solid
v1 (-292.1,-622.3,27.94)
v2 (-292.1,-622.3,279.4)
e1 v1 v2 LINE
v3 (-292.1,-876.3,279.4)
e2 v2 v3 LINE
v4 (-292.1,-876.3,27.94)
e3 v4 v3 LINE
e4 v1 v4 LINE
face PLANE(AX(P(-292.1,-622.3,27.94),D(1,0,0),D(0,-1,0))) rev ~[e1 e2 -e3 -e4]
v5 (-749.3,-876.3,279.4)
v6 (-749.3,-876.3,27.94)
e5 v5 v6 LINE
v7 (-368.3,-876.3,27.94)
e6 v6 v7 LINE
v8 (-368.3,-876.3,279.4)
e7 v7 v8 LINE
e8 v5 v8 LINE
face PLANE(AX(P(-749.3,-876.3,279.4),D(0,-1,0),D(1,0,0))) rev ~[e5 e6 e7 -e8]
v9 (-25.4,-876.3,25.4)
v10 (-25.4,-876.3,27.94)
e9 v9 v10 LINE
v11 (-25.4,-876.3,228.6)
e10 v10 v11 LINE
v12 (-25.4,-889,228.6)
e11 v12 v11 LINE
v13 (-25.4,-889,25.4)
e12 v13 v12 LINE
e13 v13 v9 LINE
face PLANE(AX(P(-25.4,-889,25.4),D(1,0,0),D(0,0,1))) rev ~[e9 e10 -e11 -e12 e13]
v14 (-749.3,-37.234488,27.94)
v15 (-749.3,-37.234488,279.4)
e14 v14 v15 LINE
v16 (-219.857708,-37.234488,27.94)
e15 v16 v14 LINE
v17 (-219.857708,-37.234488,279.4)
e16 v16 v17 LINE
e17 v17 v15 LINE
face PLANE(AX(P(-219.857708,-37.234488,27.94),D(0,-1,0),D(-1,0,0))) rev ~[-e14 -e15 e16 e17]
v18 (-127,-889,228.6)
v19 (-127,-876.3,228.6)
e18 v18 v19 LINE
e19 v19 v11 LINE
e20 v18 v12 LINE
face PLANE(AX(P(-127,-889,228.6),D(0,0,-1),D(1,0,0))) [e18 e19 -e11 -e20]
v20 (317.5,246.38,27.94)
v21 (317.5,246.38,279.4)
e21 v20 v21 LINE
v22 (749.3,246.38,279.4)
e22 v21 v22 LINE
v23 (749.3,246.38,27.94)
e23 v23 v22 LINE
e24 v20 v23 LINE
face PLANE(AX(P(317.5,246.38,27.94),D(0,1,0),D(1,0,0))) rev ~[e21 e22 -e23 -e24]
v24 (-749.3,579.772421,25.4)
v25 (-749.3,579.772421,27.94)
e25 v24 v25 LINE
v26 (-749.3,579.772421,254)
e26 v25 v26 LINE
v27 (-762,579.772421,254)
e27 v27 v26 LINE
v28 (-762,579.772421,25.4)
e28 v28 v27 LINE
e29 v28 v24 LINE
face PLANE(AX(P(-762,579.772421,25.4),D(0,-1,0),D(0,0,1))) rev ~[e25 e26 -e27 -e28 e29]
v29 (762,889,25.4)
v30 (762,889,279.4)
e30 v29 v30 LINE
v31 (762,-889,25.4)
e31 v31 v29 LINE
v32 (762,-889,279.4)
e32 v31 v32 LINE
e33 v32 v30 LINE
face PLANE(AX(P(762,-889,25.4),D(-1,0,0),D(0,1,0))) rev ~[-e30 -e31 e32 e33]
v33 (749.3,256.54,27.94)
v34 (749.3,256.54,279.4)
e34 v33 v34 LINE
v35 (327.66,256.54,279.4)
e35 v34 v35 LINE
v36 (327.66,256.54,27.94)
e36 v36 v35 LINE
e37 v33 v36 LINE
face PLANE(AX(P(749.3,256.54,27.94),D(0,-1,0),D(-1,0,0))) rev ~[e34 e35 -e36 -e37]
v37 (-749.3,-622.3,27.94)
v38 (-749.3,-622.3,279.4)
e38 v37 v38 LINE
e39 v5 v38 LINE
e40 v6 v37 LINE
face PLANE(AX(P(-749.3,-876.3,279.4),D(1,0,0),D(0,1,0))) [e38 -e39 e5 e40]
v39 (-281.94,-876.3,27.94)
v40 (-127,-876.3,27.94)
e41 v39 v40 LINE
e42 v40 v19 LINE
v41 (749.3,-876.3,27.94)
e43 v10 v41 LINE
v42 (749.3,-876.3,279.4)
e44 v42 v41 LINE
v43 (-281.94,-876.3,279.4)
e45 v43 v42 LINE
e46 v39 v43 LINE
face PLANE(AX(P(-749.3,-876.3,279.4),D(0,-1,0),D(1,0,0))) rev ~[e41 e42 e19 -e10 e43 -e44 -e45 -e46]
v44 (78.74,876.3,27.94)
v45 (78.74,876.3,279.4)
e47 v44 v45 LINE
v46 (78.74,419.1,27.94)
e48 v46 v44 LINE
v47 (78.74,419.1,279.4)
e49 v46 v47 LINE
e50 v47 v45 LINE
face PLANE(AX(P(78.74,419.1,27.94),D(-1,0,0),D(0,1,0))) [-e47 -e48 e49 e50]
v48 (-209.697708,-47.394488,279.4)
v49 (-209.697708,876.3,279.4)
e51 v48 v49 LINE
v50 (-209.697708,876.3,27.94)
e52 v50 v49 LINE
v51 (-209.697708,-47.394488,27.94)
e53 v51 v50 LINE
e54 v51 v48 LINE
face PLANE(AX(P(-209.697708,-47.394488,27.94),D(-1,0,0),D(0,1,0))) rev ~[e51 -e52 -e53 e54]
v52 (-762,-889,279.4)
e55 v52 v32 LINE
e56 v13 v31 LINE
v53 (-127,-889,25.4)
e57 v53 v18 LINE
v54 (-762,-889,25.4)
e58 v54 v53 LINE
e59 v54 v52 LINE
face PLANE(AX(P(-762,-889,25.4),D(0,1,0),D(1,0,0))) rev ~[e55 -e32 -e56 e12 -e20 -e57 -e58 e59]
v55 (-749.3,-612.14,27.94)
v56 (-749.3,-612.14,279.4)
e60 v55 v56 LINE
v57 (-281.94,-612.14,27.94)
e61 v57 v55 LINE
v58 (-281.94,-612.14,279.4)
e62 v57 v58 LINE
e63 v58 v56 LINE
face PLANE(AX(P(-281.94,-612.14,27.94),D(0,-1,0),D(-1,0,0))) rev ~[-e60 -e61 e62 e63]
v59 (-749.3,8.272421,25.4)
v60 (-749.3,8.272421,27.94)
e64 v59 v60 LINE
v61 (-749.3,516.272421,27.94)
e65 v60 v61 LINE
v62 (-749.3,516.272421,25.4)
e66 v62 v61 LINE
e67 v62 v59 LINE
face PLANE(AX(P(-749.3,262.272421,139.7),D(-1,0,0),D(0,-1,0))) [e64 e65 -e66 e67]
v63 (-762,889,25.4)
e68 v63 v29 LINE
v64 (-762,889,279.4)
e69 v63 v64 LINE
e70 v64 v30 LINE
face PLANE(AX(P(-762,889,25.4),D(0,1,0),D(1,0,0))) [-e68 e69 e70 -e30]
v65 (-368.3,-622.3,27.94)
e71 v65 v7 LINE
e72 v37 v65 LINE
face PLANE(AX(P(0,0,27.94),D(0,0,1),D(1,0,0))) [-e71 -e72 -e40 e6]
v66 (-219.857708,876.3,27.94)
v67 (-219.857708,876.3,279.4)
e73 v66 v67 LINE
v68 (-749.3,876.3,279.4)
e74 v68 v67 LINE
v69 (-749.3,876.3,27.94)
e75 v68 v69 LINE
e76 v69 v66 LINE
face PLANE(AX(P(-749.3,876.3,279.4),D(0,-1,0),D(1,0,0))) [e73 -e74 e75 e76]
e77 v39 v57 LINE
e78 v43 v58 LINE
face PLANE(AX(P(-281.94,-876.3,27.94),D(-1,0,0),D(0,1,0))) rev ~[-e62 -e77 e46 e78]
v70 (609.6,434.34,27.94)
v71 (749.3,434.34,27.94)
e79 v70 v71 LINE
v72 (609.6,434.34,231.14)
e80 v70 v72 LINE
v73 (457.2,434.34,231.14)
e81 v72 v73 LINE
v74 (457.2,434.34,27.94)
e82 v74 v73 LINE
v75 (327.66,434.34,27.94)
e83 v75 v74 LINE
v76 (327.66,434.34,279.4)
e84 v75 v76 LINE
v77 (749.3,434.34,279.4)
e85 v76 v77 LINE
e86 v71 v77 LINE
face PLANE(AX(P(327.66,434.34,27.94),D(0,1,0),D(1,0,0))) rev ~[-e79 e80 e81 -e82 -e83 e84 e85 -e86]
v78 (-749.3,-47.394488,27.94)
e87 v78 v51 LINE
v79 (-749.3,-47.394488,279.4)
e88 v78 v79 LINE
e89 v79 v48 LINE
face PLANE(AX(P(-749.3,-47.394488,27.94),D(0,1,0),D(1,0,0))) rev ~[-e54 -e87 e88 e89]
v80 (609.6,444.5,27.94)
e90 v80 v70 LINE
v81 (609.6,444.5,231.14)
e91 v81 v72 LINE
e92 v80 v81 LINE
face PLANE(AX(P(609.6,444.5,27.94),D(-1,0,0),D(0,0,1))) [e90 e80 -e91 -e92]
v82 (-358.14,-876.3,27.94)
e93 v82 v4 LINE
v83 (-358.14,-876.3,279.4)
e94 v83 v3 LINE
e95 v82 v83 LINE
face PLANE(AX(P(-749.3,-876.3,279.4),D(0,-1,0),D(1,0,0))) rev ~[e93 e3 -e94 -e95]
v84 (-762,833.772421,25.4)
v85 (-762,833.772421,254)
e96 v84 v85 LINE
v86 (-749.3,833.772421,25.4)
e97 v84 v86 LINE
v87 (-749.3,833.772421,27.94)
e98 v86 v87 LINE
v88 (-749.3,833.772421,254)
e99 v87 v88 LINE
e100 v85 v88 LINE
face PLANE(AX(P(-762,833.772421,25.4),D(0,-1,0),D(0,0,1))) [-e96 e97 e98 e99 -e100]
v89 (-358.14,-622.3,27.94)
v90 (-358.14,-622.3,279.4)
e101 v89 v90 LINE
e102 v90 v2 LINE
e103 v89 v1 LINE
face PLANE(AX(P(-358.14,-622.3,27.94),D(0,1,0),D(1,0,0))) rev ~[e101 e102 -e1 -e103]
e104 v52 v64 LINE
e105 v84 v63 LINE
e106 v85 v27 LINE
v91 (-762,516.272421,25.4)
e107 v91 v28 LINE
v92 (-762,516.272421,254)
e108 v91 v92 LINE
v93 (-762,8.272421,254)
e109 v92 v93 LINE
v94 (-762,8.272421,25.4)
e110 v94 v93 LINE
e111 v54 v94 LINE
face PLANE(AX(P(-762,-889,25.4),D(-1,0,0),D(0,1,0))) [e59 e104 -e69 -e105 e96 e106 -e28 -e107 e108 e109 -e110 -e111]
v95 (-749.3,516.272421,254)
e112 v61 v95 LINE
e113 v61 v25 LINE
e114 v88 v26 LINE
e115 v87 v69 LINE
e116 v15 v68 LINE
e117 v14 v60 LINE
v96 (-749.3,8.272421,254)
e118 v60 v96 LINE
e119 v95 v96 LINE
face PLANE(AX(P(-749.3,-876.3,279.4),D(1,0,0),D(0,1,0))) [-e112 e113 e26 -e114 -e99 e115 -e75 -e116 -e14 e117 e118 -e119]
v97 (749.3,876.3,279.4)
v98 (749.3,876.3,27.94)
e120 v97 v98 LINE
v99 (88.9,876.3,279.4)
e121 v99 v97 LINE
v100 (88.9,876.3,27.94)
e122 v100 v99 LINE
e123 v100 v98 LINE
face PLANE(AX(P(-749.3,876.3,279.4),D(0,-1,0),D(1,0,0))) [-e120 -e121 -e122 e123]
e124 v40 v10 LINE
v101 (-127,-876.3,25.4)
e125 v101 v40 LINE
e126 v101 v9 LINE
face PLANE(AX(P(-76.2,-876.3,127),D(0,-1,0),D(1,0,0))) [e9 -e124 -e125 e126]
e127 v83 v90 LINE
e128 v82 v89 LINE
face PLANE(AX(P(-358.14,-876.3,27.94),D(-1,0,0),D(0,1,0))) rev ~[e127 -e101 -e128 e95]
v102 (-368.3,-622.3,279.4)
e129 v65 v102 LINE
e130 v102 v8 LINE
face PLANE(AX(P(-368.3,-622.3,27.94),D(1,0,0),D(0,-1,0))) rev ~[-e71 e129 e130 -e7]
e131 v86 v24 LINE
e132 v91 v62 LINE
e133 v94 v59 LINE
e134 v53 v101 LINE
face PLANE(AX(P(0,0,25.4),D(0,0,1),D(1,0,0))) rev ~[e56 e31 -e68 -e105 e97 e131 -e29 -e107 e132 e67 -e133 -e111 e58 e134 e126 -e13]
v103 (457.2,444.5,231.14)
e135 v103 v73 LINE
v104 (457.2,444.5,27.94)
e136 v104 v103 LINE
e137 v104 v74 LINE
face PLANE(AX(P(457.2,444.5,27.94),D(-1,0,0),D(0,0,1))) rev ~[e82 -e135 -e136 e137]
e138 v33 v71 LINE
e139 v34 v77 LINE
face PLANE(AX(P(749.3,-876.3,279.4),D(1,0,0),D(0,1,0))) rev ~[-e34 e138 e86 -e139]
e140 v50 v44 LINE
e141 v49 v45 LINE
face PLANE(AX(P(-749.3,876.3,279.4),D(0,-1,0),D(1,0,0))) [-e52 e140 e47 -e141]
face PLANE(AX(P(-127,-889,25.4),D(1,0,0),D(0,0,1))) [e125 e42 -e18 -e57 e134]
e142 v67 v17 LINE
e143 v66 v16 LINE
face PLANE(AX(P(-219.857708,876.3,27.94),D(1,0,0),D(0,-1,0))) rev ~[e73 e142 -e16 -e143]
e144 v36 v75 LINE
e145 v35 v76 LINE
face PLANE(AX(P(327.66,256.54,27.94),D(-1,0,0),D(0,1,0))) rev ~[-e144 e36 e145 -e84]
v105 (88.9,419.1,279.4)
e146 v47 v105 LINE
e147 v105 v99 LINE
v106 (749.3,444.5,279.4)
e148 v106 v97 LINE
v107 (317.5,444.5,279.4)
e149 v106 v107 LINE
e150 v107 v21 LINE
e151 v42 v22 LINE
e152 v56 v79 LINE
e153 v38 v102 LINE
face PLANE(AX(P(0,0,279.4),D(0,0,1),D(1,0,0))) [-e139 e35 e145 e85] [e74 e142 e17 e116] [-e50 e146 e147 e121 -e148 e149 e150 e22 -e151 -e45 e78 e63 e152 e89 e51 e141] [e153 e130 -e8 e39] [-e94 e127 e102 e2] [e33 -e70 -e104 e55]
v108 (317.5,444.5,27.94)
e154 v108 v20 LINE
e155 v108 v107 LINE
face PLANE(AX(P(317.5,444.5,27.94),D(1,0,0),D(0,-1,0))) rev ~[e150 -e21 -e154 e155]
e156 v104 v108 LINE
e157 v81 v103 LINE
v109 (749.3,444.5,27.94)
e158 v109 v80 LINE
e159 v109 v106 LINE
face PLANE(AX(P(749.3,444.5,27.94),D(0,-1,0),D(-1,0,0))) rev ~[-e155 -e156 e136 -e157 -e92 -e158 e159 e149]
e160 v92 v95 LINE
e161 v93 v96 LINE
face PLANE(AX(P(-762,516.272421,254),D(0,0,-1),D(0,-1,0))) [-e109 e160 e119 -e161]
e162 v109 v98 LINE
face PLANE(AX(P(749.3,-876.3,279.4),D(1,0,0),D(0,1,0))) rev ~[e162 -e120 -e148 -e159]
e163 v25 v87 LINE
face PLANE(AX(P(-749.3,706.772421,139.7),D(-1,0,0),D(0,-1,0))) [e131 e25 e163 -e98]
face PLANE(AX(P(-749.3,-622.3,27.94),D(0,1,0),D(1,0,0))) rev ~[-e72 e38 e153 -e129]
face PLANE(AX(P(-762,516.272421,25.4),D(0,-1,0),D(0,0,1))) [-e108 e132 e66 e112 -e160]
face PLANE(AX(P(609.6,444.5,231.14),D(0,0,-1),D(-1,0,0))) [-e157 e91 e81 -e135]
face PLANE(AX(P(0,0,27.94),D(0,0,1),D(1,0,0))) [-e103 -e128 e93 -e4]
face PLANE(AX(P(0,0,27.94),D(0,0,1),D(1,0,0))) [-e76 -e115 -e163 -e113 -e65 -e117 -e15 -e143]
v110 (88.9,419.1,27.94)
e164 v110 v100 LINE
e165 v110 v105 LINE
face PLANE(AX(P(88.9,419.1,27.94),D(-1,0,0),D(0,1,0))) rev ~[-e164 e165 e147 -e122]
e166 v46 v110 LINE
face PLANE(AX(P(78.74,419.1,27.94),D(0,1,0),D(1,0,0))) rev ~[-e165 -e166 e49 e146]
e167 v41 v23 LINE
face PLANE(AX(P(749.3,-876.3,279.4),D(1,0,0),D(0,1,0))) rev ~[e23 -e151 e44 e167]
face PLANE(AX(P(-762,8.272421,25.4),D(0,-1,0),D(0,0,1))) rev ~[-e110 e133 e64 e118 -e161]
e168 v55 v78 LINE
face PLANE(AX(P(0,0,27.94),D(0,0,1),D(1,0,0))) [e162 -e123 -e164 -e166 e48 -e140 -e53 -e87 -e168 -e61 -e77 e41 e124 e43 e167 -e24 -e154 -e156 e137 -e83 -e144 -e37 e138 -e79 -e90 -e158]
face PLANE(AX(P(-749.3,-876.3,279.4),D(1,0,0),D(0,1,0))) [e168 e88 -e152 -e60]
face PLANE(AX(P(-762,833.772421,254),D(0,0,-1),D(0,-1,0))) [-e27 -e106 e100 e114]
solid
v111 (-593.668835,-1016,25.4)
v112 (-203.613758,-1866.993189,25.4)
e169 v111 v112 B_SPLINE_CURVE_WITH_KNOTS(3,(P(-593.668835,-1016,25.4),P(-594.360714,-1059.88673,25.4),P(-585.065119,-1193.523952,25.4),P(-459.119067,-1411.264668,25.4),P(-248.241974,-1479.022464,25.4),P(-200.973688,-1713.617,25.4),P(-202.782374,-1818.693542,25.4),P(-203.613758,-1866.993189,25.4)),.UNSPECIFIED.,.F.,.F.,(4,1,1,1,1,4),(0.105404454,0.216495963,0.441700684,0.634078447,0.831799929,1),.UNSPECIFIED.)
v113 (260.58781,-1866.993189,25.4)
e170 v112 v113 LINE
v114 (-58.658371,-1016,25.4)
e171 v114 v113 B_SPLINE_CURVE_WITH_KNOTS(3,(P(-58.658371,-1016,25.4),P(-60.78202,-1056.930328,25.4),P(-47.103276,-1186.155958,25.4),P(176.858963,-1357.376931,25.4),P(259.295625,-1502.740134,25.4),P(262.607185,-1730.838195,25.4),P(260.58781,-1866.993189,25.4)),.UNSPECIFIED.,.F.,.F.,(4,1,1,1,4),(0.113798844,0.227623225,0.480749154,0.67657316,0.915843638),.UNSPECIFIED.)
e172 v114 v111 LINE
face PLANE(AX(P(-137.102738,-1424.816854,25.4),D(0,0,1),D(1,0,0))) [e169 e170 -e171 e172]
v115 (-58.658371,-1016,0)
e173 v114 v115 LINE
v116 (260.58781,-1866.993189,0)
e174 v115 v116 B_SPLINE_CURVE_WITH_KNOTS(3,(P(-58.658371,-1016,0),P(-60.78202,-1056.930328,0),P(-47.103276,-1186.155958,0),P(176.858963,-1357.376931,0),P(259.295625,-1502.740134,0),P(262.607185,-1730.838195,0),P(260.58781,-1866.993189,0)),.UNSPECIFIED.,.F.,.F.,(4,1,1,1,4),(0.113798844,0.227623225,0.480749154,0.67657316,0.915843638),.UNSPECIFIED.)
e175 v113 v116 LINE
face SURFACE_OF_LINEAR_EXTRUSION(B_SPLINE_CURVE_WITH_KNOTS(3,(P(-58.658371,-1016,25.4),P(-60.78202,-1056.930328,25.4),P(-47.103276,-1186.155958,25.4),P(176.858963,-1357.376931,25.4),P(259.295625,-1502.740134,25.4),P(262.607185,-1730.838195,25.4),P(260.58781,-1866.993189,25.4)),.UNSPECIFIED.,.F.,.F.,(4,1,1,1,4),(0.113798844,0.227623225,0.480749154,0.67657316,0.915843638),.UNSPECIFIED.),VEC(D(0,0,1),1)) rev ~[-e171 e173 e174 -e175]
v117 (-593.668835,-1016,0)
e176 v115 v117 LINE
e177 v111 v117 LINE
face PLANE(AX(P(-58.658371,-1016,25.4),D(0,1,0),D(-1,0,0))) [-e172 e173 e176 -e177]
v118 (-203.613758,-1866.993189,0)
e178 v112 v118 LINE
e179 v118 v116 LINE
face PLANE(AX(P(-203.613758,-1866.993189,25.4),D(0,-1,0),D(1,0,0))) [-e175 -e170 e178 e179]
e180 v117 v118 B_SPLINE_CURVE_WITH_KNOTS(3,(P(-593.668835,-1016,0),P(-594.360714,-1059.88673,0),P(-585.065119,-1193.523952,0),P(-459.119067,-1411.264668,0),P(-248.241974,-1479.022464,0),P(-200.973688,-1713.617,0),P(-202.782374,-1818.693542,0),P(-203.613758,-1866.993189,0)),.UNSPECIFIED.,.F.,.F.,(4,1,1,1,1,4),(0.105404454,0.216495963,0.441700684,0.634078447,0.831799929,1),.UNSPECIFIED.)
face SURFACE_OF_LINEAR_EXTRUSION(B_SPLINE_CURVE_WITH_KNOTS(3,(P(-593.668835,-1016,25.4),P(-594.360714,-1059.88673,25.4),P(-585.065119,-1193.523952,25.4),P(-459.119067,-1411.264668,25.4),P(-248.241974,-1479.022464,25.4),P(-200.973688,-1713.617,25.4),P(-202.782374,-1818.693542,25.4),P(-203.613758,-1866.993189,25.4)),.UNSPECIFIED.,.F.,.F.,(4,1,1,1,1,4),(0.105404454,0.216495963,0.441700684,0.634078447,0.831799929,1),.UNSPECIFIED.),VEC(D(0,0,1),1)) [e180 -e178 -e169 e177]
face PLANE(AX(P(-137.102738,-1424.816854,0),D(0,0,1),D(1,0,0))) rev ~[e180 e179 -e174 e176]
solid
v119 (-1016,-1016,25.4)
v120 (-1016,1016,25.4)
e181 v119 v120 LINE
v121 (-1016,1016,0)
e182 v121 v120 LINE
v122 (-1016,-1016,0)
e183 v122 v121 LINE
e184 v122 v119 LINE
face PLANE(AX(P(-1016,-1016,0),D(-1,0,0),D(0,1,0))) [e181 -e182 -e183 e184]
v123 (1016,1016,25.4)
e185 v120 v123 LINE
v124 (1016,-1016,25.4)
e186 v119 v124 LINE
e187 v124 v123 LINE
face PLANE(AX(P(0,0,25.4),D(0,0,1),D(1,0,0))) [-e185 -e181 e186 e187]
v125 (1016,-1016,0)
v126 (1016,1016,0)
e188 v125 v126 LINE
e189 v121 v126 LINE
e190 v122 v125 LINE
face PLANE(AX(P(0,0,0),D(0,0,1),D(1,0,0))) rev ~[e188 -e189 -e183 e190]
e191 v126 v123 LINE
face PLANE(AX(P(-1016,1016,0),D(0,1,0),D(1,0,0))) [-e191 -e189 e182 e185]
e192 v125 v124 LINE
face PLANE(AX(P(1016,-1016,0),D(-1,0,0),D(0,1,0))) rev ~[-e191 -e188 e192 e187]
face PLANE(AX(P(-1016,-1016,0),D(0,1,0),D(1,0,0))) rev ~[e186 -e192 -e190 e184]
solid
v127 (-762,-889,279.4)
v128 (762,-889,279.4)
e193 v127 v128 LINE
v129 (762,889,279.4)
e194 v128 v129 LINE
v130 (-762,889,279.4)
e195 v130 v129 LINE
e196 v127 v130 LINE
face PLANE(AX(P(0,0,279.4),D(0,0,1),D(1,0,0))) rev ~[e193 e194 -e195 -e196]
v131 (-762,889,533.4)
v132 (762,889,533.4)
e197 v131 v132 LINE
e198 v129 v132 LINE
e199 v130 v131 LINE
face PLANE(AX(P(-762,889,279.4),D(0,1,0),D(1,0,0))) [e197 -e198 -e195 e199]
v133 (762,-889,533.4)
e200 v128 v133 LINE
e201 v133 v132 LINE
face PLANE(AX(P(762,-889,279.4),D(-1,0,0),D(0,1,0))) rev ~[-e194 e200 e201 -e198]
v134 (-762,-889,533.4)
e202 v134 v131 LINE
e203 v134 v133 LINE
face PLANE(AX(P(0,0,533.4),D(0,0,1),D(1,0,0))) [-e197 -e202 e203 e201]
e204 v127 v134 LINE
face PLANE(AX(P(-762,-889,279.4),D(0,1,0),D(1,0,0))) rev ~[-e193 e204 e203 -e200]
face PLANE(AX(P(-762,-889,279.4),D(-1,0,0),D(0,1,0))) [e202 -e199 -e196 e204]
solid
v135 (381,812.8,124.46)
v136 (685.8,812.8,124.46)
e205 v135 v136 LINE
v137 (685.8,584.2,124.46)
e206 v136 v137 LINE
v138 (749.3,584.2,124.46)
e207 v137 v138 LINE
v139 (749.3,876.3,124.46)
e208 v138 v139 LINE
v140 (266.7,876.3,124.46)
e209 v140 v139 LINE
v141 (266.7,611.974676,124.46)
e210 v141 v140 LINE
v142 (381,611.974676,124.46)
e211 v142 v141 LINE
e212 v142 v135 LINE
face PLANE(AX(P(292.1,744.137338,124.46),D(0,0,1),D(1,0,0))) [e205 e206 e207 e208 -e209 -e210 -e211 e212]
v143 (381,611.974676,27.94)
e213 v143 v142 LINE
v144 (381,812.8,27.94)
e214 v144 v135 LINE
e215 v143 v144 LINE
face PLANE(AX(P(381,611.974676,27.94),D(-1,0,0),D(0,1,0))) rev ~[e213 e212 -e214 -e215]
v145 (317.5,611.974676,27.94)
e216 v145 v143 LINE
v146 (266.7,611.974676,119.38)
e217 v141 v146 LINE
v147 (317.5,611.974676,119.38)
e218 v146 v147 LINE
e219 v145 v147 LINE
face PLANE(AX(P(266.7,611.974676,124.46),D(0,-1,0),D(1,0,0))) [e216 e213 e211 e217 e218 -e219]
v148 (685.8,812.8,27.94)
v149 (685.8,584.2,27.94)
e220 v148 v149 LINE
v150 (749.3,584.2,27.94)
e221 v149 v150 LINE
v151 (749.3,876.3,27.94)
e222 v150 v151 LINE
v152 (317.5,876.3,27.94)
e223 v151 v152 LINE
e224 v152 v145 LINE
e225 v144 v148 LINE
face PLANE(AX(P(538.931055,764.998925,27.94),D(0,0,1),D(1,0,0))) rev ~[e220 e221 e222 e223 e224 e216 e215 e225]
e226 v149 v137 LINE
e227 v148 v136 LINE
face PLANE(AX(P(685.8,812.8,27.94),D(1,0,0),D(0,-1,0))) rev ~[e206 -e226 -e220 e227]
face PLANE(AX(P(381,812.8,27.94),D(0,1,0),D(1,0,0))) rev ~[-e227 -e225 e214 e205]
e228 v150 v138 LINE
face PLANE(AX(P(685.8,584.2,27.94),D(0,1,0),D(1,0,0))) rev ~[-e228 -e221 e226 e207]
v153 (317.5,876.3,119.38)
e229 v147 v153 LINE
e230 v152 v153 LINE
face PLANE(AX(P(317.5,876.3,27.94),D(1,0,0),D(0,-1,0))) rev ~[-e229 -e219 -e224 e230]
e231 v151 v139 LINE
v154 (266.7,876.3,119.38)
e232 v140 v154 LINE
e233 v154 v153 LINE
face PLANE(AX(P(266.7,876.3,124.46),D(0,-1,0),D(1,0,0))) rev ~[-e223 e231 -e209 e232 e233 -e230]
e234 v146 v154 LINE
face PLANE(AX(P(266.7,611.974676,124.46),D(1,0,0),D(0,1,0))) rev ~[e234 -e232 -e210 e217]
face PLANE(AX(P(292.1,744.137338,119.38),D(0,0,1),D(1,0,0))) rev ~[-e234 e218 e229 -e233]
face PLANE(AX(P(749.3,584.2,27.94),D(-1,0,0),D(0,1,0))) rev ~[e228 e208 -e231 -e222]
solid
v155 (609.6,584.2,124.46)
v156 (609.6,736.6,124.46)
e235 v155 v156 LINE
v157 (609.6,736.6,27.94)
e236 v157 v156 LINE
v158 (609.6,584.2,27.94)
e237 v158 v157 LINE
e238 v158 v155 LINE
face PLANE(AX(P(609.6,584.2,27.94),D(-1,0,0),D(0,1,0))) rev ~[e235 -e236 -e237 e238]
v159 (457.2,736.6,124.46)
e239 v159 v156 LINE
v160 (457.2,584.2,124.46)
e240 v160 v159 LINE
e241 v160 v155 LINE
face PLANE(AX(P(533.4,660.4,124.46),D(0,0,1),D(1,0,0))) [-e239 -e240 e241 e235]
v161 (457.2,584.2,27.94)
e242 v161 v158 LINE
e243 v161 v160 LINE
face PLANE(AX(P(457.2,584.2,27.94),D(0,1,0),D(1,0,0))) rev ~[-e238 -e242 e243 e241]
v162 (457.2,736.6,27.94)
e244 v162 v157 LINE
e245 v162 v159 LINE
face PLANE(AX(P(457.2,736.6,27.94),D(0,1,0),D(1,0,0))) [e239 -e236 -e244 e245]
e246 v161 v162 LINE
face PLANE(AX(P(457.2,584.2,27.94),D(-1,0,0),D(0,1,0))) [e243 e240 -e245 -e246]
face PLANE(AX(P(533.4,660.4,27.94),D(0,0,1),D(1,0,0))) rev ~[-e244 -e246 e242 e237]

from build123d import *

# Parameters (mm, degrees)
F0_W      = 2032
F0_H      = 2032
F1_DEPTH  = 25.4
F2_W      = 1524
F2_H      = 1778
F3_DEPTH  = 254
F4_W      = 1524
F4_H      = 1778
F5_DEPTH  = 254
F6_W      = 1498.6
F6_H      = 1752.6
F7_DEPTH  = 251.46
F9_DEPTH  = 25.4
F10_W     = 254
F10_H     = 228.6
F10_W_2   = 508
F11_DEPTH = 12.7
F12_W     = 10.16
F12_H     = 457.2
F13_DEPTH = 251.46
F14_W     = 101.6
F14_H     = 203.2
F15_DEPTH = 12.7
F16_W     = 152.4
F16_H     = 152.4
F17_DEPTH = 96.52
F18_W     = 50.8
F18_H     = 264.3253242493
F19_DEPTH = 5.08
F20_W     = 152.4
F20_H     = 203.2
F21_DEPTH = 25.4


with BuildPart() as f1:
    # F0 (on Top) → F1 (new body)
    with BuildSketch(Plane.XY):
        Rectangle(F0_W, F0_H)
    extrude(amount=F1_DEPTH)


with BuildPart() as f3:
    # F2 (on face) → F3 (new body)
    with BuildSketch(Plane.XY.offset(25.4)):
        Rectangle(F2_W, F2_H)
    extrude(amount=F3_DEPTH)

    # F6 (on face) → F7 (cut)
    with BuildSketch(Plane.XY.offset(279.4)):
        Rectangle(F6_W, F6_H)
    extrude(amount=-F7_DEPTH, mode=Mode.SUBTRACT)

    # F10 (on face) → F11 (cut, through all)
    with BuildSketch(Plane(origin=(-762, 0, 0), x_dir=(0, -1, 0), z_dir=(-1, 0, 0))):
        with Locations((-706.7724208832, 139.7)):
            Rectangle(F10_W, F10_H)
        with Locations((-262.2724208832, 139.7)):
            Rectangle(F10_W_2, F10_H)
    extrude(amount=-F11_DEPTH, mode=Mode.SUBTRACT)

    # F12 (on face) → F13 (join, through all)
    with BuildSketch(Plane.XY.offset(27.94)):
        Polygon((-749.3, -37.2344880068), (-749.3, -47.3944880068), (-219.8577076197, -47.3944880068), (-209.6977076197, -47.3944880068), (-209.6977076197, -37.2344880068), (-209.6977076197, 876.3), (-219.8577076197, 876.3), (-219.8577076197, -37.2344880068), align=None)
        Polygon((-368.3, -612.14), (-749.3, -612.14), (-749.3, -622.3), (-368.3, -622.3), (-368.3, -876.3), (-358.14, -876.3), (-358.14, -622.3), (-292.1, -622.3), (-292.1, -876.3), (-281.94, -876.3), (-281.94, -622.3), (-281.94, -612.14), (-358.14, -612.14), align=None)
        with Locations((83.82, 647.7)):
            Rectangle(F12_W, F12_H)
        Polygon((749.3, 434.34), (749.3, 444.5), (520.7, 444.5), (317.5, 444.5), (317.5, 434.34), (317.5, 256.54), (317.5, 246.38), (749.3, 246.38), (749.3, 256.54), (520.7, 256.54), (327.66, 256.54), (327.66, 434.34), align=None)
    extrude(amount=F13_DEPTH)

    # F14 (on face) → F15 (cut, through all)
    with BuildSketch(Plane.XZ.offset(889)):
        with Locations((-76.2, 127)):
            Rectangle(F14_W, F14_H)
    extrude(amount=-F15_DEPTH, mode=Mode.SUBTRACT)

    # F20 (on face) → F21 (cut)
    with BuildSketch(Plane(origin=(0, 444.5, 0), x_dir=(-1, 0, 0), z_dir=(0, 1, 0))):
        with Locations((-533.4, 129.54)):
            Rectangle(F20_W, F20_H)
    extrude(amount=-F21_DEPTH, mode=Mode.SUBTRACT)


with BuildPart() as f5:
    # F4 (on face) → F5 (new body)
    with BuildSketch(Plane.XY.offset(279.4)):
        Rectangle(F4_W, F4_H)
    extrude(amount=F5_DEPTH)


with BuildPart() as f9:
    # F8 (on face) → F9 (new body)
    with BuildSketch(Plane.XY.offset(25.4)):
        with BuildLine():
            Line((-58.6583714405, -1016), (-593.6688348535, -1016))
            add(Edge.make_bspline(
                [(-593.6688348535, -1016), (-594.360714053, -1059.8867295439), (-585.0651189783, -1193.5239520487), (-459.1190670382, -1411.2646677711), (-248.2419739751, -1479.02246379), (-200.9736880033, -1713.6169998853), (-202.7823744553, -1818.6935418855), (-203.6137580872, -1866.9931888575)],
                knots=[0.1054044545, 0.1054044545, 0.1054044545, 0.1054044545, 0.2164959633, 0.4417006838, 0.6340784465, 0.8317999287, 1, 1, 1, 1], degree=3))
            Line((-203.6137580872, -1866.9931888575), (260.5878098599, -1866.9931888575))
            add(Edge.make_bspline(
                [(-58.6583714405, -1016), (-60.7820202944, -1056.9303276014), (-47.1032761734, -1186.1559578726), (176.8589632329, -1357.376931496), (259.2956250273, -1502.740133951), (262.6071849495, -1730.8381945239), (260.5878098599, -1866.9931888575)],
                knots=[0.1137988437, 0.1137988437, 0.1137988437, 0.1137988437, 0.2276232253, 0.4807491539, 0.6765731599, 0.9158436382, 0.9158436382, 0.9158436382, 0.9158436382], degree=3))
        make_face()
    extrude(amount=-F9_DEPTH)


with BuildPart() as f17:
    # F16 (on face) → F17 (new body)
    with BuildSketch(Plane.XY.offset(27.94)):
        with Locations((533.4, 660.4)):
            Rectangle(F16_W, F16_H)
    extrude(amount=F17_DEPTH)


with BuildPart() as f17b:
    # F16 (on face) → F17, piece 2 (new body)
    with BuildSketch(Plane.XY.offset(27.94)):
        Polygon((749.3, 812.8), (749.3, 876.3), (685.8, 876.3), (317.5, 876.3), (317.5, 812.8), (317.5, 611.9746757507), (381, 611.9746757507), (381, 812.8), (685.8, 812.8), (685.8, 584.2), (749.3, 584.2), align=None)
    extrude(amount=F17_DEPTH)

    # F18 (on face) → F19 (join)
    with BuildSketch(Plane.XY.offset(124.46)):
        with Locations((292.1, 744.1373378754)):
            Rectangle(F18_W, F18_H)
    extrude(amount=-F19_DEPTH)


solid = Compound([f1.part, f3.part, f5.part, f9.part, f17.part, f17b.part])
